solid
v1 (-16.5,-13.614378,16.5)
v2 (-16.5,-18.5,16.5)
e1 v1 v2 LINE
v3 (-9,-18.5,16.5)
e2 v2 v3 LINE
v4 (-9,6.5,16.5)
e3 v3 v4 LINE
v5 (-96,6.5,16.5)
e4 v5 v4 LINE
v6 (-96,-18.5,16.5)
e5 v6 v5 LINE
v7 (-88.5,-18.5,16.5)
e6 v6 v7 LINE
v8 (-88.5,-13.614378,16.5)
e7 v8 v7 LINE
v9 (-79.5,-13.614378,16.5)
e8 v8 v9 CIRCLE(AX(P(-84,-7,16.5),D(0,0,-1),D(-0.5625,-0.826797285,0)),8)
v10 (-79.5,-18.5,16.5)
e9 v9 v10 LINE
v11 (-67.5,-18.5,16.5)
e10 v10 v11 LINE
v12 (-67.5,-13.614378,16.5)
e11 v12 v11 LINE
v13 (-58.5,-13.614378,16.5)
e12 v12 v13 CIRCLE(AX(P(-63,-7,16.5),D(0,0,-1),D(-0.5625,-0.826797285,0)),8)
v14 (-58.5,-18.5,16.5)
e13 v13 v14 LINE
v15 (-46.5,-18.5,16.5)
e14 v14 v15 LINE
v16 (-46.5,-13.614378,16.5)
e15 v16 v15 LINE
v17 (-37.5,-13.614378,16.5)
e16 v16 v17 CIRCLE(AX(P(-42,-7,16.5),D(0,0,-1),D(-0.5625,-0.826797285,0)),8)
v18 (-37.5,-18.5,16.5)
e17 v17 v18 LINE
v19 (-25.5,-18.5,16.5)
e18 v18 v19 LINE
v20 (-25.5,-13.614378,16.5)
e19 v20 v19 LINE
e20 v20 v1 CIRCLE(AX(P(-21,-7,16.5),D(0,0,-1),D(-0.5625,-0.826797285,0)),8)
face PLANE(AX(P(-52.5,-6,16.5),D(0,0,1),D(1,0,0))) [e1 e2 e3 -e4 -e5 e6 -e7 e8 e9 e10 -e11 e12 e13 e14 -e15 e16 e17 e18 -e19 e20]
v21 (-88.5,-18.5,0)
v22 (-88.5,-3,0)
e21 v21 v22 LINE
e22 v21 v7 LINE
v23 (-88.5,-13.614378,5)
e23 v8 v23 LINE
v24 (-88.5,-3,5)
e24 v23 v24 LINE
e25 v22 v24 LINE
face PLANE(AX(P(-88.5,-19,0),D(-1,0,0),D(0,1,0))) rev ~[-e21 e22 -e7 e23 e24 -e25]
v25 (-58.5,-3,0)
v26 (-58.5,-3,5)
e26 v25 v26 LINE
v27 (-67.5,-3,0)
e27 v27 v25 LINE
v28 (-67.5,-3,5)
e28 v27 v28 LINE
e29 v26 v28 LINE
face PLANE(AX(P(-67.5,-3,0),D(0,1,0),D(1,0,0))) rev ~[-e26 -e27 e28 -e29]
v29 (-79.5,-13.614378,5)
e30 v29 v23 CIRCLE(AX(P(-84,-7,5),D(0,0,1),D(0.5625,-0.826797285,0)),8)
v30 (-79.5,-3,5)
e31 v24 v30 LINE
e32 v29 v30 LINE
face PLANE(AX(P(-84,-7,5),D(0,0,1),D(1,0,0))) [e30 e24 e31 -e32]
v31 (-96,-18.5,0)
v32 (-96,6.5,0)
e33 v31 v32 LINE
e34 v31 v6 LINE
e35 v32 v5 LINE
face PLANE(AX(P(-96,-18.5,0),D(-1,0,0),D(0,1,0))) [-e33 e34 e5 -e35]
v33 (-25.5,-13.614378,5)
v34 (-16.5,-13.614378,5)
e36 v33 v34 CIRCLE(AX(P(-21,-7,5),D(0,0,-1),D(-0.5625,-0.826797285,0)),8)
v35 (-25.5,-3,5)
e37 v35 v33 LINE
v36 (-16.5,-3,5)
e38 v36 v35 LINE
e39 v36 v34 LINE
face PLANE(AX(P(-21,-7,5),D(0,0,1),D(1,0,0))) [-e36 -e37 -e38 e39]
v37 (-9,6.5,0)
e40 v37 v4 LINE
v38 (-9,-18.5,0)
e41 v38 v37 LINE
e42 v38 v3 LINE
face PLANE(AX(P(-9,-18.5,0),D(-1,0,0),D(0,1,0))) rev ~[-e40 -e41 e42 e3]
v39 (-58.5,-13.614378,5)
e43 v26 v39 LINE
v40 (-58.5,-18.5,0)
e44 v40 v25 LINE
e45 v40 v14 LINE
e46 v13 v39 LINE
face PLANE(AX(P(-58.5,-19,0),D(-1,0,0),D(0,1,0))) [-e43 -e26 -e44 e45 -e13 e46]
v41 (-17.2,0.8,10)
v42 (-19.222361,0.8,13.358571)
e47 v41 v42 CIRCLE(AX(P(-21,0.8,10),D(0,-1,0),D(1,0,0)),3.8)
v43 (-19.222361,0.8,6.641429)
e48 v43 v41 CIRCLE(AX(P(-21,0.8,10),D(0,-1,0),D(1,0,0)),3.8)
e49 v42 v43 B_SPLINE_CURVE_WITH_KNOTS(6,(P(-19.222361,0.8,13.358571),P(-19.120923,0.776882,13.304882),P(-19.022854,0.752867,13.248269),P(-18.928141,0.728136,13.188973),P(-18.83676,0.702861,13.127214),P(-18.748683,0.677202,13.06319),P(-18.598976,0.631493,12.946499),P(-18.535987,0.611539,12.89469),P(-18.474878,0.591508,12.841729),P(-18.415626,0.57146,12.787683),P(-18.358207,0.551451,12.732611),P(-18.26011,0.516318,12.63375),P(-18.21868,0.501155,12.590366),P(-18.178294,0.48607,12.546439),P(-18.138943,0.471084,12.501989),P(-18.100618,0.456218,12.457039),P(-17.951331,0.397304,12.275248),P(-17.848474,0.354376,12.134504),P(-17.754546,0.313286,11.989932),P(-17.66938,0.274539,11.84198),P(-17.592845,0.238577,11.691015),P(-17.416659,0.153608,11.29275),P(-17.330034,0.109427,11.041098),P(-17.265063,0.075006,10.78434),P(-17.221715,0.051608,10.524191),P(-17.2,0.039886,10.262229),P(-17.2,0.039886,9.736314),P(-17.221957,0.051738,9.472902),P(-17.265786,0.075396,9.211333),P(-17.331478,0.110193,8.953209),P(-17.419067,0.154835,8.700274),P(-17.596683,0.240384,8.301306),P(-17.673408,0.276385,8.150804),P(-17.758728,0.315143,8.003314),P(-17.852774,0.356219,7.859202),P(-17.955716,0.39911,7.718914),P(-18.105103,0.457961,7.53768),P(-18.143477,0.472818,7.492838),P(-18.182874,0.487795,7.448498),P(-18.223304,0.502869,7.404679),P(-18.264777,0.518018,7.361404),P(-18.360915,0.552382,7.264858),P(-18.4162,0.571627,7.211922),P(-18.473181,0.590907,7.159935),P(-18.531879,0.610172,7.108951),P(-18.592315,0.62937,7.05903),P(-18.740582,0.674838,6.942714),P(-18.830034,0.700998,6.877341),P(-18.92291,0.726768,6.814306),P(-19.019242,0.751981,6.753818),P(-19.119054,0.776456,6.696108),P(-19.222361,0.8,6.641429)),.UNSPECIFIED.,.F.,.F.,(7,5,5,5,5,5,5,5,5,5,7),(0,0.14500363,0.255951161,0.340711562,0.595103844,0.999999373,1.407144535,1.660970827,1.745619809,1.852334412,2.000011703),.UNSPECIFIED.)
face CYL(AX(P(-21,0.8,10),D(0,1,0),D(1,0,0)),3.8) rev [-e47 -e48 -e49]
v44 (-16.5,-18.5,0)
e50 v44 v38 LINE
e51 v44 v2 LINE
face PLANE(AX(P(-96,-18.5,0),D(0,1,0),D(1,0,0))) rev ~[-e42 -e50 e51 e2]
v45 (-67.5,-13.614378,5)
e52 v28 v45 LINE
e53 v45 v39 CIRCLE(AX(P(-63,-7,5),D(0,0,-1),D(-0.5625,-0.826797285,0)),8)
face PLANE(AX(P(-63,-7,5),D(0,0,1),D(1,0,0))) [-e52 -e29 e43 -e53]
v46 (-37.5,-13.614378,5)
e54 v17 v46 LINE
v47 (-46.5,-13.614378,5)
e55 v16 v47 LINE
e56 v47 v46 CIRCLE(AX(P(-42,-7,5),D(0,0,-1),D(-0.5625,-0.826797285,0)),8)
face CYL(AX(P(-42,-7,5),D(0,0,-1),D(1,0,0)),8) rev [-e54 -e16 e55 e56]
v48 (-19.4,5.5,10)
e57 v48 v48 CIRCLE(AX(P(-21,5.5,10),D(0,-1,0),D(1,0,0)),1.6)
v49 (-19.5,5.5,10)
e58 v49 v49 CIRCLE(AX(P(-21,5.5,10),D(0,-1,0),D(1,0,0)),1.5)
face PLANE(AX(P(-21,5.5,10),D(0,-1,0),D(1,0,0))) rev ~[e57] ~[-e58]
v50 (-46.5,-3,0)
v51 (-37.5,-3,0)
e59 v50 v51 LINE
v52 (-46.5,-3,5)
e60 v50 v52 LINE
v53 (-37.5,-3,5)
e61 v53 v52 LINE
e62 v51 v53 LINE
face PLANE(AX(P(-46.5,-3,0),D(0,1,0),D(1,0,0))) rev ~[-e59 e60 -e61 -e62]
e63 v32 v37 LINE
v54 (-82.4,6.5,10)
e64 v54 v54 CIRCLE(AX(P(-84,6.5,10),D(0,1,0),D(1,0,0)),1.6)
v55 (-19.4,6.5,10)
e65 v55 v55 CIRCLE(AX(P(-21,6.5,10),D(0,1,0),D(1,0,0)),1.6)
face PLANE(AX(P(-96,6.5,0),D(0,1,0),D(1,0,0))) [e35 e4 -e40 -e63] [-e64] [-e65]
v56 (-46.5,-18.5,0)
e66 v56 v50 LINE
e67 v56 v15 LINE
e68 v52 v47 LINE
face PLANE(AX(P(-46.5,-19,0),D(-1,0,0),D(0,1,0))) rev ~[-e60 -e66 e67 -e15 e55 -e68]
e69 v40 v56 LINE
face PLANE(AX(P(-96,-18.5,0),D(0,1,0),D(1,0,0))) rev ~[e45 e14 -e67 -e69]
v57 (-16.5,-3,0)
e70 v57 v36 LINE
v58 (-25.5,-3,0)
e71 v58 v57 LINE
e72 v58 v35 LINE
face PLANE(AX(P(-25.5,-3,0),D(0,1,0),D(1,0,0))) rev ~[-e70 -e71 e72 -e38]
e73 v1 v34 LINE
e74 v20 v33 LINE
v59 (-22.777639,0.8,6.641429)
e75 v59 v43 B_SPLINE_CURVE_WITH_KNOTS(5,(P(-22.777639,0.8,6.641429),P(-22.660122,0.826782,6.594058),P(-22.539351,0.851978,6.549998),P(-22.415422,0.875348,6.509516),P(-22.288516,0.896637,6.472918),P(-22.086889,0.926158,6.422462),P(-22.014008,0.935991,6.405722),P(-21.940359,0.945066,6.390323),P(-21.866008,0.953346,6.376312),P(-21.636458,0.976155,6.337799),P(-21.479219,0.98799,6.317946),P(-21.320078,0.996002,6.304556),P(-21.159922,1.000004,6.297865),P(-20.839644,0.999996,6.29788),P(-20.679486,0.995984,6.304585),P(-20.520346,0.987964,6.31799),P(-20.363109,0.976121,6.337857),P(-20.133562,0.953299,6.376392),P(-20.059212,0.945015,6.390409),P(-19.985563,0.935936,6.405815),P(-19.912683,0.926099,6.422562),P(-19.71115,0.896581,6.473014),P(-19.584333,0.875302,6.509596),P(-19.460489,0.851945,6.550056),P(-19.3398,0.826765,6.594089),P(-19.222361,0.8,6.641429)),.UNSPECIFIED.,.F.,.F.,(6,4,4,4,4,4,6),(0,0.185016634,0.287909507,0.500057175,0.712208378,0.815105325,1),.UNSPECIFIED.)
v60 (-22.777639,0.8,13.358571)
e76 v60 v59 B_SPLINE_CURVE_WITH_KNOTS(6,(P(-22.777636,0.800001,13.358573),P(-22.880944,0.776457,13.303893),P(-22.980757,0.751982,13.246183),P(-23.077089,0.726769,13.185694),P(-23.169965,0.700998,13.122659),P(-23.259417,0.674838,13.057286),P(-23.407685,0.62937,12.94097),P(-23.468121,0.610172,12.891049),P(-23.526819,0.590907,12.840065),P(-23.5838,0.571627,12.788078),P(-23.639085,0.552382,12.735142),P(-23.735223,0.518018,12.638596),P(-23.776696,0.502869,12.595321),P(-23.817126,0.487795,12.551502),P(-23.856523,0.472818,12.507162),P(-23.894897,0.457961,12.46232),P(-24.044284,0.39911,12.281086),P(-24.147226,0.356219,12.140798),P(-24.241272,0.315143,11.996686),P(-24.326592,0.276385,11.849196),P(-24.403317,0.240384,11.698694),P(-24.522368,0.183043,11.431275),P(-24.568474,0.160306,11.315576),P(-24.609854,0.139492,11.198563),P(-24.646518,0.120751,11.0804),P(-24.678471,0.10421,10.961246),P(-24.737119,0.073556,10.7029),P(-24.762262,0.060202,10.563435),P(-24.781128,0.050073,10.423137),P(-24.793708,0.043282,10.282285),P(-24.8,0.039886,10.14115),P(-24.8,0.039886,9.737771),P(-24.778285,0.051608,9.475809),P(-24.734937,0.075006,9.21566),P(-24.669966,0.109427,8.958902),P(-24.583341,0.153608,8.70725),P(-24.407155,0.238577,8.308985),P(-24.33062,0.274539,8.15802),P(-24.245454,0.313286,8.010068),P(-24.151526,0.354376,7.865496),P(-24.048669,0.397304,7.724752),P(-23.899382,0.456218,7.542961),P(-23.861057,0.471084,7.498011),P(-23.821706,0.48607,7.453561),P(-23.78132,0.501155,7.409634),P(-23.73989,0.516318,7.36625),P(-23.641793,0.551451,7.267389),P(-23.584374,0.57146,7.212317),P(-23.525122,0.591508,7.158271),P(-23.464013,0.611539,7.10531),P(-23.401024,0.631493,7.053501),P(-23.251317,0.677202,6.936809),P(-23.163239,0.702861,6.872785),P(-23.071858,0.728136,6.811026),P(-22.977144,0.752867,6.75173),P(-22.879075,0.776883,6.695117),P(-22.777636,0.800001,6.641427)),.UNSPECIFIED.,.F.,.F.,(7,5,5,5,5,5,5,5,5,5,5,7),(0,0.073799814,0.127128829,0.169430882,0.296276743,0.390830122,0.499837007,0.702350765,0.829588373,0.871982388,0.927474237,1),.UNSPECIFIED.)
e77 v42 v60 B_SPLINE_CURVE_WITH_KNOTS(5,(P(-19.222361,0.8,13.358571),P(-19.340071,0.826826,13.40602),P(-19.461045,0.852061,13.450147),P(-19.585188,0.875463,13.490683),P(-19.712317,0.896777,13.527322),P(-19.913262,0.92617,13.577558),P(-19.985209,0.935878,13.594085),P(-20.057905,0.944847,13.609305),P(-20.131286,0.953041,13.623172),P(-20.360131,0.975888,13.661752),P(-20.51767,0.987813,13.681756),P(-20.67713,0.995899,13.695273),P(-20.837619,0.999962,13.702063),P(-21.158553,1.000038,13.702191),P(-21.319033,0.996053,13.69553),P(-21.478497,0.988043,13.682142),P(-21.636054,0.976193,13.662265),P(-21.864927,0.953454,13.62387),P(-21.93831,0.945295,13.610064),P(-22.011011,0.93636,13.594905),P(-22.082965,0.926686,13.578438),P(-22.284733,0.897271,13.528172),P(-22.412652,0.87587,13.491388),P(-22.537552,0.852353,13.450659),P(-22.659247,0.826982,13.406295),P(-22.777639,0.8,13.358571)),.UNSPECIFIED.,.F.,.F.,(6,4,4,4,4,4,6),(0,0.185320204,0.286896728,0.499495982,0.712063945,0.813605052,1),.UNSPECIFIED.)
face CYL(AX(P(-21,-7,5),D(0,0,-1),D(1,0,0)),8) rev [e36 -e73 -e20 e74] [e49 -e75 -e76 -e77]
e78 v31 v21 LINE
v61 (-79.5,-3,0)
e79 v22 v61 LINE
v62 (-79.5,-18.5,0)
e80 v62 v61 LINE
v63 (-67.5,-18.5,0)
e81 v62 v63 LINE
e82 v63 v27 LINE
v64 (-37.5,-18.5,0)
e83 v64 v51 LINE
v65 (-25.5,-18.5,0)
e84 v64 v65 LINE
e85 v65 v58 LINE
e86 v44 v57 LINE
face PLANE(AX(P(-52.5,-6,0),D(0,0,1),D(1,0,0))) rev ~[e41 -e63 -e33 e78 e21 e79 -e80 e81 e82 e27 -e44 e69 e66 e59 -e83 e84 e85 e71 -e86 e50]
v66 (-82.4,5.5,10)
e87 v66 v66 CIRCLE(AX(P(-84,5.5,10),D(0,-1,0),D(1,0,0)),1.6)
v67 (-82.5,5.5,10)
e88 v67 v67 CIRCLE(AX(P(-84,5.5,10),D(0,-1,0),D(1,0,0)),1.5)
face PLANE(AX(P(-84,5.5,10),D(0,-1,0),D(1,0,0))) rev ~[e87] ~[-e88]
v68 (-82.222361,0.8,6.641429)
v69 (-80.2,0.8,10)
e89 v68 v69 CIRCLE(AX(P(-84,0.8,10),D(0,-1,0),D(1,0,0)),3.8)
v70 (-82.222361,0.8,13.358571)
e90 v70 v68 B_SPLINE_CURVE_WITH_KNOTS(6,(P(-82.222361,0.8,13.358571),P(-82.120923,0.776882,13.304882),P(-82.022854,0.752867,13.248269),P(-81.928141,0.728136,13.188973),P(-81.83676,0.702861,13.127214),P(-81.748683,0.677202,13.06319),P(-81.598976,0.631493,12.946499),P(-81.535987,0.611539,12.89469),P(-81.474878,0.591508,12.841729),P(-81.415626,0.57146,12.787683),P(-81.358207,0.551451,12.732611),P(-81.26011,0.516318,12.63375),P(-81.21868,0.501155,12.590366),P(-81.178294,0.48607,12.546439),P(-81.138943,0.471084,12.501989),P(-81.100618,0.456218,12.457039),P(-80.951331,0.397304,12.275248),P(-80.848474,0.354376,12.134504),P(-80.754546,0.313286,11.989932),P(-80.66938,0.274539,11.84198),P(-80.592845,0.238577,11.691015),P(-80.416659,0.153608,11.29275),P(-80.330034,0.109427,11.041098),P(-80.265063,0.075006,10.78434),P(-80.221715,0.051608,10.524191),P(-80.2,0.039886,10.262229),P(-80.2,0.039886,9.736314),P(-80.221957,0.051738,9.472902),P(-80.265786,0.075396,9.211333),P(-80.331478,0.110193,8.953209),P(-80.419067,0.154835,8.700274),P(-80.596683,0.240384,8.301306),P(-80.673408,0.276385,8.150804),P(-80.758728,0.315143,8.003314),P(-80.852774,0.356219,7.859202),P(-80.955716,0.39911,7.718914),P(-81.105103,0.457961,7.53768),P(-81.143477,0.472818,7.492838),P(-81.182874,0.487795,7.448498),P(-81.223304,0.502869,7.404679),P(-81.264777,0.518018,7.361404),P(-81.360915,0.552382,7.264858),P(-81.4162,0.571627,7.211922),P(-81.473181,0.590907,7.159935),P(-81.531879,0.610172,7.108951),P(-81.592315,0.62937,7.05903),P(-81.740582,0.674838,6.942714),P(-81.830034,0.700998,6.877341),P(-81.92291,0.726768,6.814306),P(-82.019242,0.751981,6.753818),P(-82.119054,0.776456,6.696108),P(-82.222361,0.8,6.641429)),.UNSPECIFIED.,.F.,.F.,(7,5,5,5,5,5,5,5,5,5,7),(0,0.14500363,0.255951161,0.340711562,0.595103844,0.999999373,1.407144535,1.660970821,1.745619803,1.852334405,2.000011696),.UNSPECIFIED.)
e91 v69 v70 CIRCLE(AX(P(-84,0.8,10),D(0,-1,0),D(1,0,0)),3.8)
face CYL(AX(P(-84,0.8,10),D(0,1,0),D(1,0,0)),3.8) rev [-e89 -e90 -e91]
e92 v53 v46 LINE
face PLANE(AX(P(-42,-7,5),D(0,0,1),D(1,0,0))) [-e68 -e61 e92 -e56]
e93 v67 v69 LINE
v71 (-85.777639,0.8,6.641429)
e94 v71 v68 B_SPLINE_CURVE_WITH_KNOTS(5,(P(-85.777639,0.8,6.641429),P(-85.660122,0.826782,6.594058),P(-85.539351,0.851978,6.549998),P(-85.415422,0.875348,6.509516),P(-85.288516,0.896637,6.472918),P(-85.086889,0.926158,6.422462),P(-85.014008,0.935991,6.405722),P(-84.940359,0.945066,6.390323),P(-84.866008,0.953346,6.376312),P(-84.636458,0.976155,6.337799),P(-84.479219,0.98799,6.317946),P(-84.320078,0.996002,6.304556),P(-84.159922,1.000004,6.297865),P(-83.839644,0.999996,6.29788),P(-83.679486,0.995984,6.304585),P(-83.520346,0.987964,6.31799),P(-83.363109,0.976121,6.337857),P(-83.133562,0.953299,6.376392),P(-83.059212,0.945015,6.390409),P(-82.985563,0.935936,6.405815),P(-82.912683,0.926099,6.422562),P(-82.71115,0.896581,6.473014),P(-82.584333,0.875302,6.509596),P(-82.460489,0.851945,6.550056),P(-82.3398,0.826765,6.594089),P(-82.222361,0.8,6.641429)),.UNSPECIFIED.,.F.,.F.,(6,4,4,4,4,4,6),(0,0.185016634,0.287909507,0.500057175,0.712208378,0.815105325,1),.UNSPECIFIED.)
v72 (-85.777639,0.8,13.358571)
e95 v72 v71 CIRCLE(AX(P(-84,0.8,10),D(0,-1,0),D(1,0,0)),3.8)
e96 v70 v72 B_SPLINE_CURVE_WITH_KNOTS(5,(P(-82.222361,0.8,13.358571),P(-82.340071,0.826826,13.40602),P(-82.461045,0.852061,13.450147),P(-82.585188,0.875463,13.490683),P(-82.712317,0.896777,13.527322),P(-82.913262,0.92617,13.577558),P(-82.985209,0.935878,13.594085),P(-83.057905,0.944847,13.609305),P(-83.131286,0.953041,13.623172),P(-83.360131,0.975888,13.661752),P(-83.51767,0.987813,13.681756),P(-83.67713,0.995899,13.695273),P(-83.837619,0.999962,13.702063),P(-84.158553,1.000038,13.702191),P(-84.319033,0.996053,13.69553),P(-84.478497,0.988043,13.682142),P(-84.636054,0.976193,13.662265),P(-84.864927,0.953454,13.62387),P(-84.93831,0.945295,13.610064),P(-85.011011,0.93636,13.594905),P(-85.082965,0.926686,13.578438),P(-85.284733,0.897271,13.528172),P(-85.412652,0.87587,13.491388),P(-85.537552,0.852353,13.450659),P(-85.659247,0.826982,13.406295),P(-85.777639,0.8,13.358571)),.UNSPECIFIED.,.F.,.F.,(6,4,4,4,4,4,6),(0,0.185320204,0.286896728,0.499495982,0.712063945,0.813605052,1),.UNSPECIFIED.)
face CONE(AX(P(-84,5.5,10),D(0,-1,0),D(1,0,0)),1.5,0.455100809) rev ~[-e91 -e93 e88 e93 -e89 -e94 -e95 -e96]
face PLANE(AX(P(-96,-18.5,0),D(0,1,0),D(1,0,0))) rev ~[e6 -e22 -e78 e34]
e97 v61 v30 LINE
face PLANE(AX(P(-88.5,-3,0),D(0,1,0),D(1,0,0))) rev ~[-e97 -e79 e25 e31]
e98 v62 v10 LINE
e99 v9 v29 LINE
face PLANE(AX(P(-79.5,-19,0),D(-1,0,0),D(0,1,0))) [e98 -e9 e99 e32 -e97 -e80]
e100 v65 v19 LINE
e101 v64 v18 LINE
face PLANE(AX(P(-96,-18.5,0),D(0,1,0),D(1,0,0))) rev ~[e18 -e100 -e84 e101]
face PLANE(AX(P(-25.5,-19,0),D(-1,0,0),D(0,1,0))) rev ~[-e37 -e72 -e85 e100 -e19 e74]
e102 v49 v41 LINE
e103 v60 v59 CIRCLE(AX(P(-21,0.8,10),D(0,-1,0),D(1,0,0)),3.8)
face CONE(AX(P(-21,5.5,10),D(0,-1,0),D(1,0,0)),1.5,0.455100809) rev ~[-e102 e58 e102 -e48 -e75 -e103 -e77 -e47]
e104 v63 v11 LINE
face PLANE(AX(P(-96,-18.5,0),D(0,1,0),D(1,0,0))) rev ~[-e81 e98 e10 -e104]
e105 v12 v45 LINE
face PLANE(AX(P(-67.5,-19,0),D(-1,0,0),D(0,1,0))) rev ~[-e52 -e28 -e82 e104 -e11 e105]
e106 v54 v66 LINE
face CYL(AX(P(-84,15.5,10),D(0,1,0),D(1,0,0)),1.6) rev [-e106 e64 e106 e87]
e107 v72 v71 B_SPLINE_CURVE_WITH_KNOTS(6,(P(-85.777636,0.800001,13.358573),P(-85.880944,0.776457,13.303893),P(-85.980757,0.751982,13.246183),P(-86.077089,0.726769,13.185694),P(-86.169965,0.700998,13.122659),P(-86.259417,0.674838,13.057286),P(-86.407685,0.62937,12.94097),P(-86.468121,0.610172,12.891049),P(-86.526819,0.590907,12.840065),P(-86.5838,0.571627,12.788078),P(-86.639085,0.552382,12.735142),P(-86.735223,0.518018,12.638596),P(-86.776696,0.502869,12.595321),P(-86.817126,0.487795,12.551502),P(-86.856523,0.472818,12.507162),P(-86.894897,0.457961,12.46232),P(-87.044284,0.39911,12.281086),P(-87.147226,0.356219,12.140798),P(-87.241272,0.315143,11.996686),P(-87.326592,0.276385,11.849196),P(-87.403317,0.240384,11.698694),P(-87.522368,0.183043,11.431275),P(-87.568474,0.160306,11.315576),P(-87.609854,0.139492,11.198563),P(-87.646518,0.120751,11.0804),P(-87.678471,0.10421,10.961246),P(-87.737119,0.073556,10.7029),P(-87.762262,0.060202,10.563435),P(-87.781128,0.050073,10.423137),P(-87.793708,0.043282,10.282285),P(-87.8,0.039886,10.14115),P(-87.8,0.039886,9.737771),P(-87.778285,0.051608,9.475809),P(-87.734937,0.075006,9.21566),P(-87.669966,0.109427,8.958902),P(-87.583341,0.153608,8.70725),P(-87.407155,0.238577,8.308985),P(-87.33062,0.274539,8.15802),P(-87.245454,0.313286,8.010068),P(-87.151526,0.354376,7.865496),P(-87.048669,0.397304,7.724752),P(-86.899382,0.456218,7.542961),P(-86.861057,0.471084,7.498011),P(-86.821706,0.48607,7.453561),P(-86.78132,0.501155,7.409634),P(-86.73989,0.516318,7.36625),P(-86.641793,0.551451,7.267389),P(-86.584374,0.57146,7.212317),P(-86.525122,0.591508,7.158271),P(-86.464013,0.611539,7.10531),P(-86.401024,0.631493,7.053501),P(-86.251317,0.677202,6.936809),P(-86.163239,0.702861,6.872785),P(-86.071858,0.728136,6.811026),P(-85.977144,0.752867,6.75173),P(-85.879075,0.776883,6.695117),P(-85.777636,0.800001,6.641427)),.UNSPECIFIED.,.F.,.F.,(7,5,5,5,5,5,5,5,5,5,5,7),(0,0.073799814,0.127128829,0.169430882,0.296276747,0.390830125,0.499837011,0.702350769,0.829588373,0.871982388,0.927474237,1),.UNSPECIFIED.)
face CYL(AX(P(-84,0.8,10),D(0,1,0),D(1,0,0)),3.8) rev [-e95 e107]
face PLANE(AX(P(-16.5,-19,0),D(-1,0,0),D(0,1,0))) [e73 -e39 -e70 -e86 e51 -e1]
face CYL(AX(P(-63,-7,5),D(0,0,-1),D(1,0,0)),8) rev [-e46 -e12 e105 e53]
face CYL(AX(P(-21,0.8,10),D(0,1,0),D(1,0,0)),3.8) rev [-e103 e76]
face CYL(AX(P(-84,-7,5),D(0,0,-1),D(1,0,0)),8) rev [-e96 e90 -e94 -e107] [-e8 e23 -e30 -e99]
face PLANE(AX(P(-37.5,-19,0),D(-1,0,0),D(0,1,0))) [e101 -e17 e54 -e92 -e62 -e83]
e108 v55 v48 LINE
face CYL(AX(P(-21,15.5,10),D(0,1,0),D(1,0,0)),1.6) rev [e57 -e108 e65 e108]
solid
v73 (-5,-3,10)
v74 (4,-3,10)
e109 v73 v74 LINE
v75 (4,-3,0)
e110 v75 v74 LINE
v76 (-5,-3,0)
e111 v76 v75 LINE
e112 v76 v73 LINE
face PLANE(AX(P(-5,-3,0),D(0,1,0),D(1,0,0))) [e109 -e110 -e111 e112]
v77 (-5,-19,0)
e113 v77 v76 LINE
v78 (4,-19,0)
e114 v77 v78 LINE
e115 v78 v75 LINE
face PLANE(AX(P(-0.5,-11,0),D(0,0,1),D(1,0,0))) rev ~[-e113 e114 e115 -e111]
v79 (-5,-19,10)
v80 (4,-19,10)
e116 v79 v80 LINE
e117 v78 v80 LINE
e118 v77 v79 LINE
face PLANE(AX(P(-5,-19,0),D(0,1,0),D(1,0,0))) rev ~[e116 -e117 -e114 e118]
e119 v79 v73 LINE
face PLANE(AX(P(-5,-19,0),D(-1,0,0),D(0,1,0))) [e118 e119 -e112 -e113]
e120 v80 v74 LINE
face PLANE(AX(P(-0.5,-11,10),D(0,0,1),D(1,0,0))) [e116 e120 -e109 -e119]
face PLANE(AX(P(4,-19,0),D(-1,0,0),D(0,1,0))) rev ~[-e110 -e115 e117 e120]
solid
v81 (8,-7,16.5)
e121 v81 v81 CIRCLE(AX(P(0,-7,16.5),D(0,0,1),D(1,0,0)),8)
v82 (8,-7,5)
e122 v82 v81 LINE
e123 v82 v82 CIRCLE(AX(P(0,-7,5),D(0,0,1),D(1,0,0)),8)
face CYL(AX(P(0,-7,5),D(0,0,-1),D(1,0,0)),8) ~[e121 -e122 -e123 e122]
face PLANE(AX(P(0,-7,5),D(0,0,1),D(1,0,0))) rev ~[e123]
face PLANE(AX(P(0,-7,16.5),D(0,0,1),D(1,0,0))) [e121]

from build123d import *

# Parameters (mm, degrees)
BOX_W                  = 9
BOX_H                  = 16
BOX_DEPTH              = 10
CYLINDER_R             = 8
CYLINDER_DEPTH         = 11.5
CONE_ROLL_ANGLE        = 90
CYLINDER005_R          = 1.6
CYLINDER005_DEPTH      = 10
CYLINDER005_ROLL_ANGLE = 90
CYLINDER006_R          = 3.8
CYLINDER006_DEPTH      = 2
CYLINDER006_ROLL_ANGLE = 90
CONE001_ROLL_ANGLE     = 90
CYLINDER007_R          = 1.6
CYLINDER007_DEPTH      = 10
CYLINDER007_ROLL_ANGLE = 90
CYLINDER008_R          = 3.8
CYLINDER008_DEPTH      = 2
CYLINDER008_ROLL_ANGLE = 90
BOX002_W               = 9
BOX002_H               = 16
BOX002_DEPTH           = 18
CYLINDER002_R          = 8
CYLINDER002_DEPTH      = 11.5
BOX005_W               = 9
BOX005_H               = 16
BOX005_DEPTH           = 18
CYLINDER003_R          = 8
CYLINDER003_DEPTH      = 11.5
CYLINDER004_R          = 8
CYLINDER004_DEPTH      = 11.5
BOX003_W               = 9
BOX003_H               = 16
BOX003_DEPTH           = 18
BOX004_W               = 9
BOX004_H               = 16
BOX004_DEPTH           = 18
CYLINDER001_R          = 8
CYLINDER001_DEPTH      = 11.5
BOX001_W               = 87
BOX001_H               = 25
BOX001_DEPTH           = 16.5


with BuildPart() as cube:
    # Box → Box (new body)
    with BuildSketch(Plane(origin=(-5, -19, 0), x_dir=(1, 0, 0), z_dir=(0, 0, 1))):
        with Locations((4.5, 8)):
            Rectangle(BOX_W, BOX_H)
    extrude(amount=BOX_DEPTH)


with BuildPart() as cylinder:
    # Cylinder → Cylinder (new body)
    with BuildSketch(Plane(origin=(0, -7, 5), x_dir=(1, 0, 0), z_dir=(0, 0, 1))):
        Circle(CYLINDER_R)
    extrude(amount=CYLINDER_DEPTH)


with BuildPart() as cone:
    # Cone → Cone (revolve)
    with BuildSketch(Plane.XZ):
        Polygon((0, 0), (1.5, 0), (3.8, 4.7), (0, 4.7), align=None)
    revolve(axis=Axis((0, 0, 0), (0, 0, 1)))


with BuildPart() as cone_1:
    # Cone roll: moved
    add(cone.part.rotate(Axis((0, 0, 0), (1, 0, 0)), CONE_ROLL_ANGLE))


with BuildPart() as cone_2:
    # Cone placement: moved
    add(cone_1.part.moved(Location((-21, 0, 10))))


with BuildPart() as cylinder005:
    # Cylinder005 → Cylinder005 (new body)
    with BuildSketch(Plane.XY):
        Circle(CYLINDER005_R)
    extrude(amount=CYLINDER005_DEPTH)


with BuildPart() as cylinder005_1:
    # Cylinder005 roll: moved
    add(cylinder005.part.rotate(Axis((0, 0, 0), (1, 0, 0)), CYLINDER005_ROLL_ANGLE))


with BuildPart() as cylinder005_2:
    # Cylinder005 placement: moved
    add(cylinder005_1.part.moved(Location((-21, 10, 10))))


with BuildPart() as schraubenloch:
    # Cylinder006 → Cylinder006 (new body)
    with BuildSketch(Plane.XY):
        Circle(CYLINDER006_R)
    extrude(amount=CYLINDER006_DEPTH)


with BuildPart() as schraubenloch_1:
    # Cylinder006 roll: moved
    add(schraubenloch.part.rotate(Axis((0, 0, 0), (1, 0, 0)), CYLINDER006_ROLL_ANGLE))


with BuildPart() as schraubenloch_2:
    # Cylinder006 placement: moved
    add(schraubenloch_1.part.moved(Location((-21, -4.7, 10))))

    # Fusion004: union Cone, Cylinder005
    add(cone_2.part)
    add(cylinder005_2.part)


with BuildPart() as schraubenloch_3:
    # Fusion004 placement: moved
    add(schraubenloch_2.part.moved(Location((0, 5.5, 0))))


with BuildPart() as cone001:
    # Cone001 → Cone001 (revolve)
    with BuildSketch(Plane.XZ):
        Polygon((0, 0), (1.5, 0), (3.8, 4.7), (0, 4.7), align=None)
    revolve(axis=Axis((0, 0, 0), (0, 0, 1)))


with BuildPart() as cone001_1:
    # Cone001 roll: moved
    add(cone001.part.rotate(Axis((0, 0, 0), (1, 0, 0)), CONE001_ROLL_ANGLE))


with BuildPart() as cone001_2:
    # Cone001 placement: moved
    add(cone001_1.part.moved(Location((-21, 0, 10))))


with BuildPart() as cylinder007:
    # Cylinder007 → Cylinder007 (new body)
    with BuildSketch(Plane.XY):
        Circle(CYLINDER007_R)
    extrude(amount=CYLINDER007_DEPTH)


with BuildPart() as cylinder007_1:
    # Cylinder007 roll: moved
    add(cylinder007.part.rotate(Axis((0, 0, 0), (1, 0, 0)), CYLINDER007_ROLL_ANGLE))


with BuildPart() as cylinder007_2:
    # Cylinder007 placement: moved
    add(cylinder007_1.part.moved(Location((-21, 10, 10))))


with BuildPart() as schraubenloecher:
    # Cylinder008 → Cylinder008 (new body)
    with BuildSketch(Plane.XY):
        Circle(CYLINDER008_R)
    extrude(amount=CYLINDER008_DEPTH)


with BuildPart() as schraubenloecher_1:
    # Cylinder008 roll: moved
    add(schraubenloecher.part.rotate(Axis((0, 0, 0), (1, 0, 0)), CYLINDER008_ROLL_ANGLE))


with BuildPart() as schraubenloecher_2:
    # Cylinder008 placement: moved
    add(schraubenloecher_1.part.moved(Location((-21, -4.7, 10))))

    # Fusion005: union Cone001, Cylinder007
    add(cone001_2.part)
    add(cylinder007_2.part)


with BuildPart() as schraubenloecher_3:
    # Fusion005 placement: moved
    add(schraubenloecher_2.part.moved(Location((-63, 5.5, 0))))

    # Fusion006: union Schraubenloch
    add(schraubenloch_3.part)


with BuildPart() as cube002:
    # Box002 → Box002 (new body)
    with BuildSketch(Plane(origin=(-25.5, -19, 0), x_dir=(1, 0, 0), z_dir=(0, 0, 1))):
        with Locations((4.5, 8)):
            Rectangle(BOX002_W, BOX002_H)
    extrude(amount=BOX002_DEPTH)


with BuildPart() as cylinder002:
    # Cylinder002 → Cylinder002 (new body)
    with BuildSketch(Plane(origin=(-42, -7, 5), x_dir=(1, 0, 0), z_dir=(0, 0, 1))):
        Circle(CYLINDER002_R)
    extrude(amount=CYLINDER002_DEPTH)


with BuildPart() as cube005:
    # Box005 → Box005 (new body)
    with BuildSketch(Plane(origin=(-88.5, -19, 0), x_dir=(1, 0, 0), z_dir=(0, 0, 1))):
        with Locations((4.5, 8)):
            Rectangle(BOX005_W, BOX005_H)
    extrude(amount=BOX005_DEPTH)


with BuildPart() as cylinder003:
    # Cylinder003 → Cylinder003 (new body)
    with BuildSketch(Plane(origin=(-63, -7, 5), x_dir=(1, 0, 0), z_dir=(0, 0, 1))):
        Circle(CYLINDER003_R)
    extrude(amount=CYLINDER003_DEPTH)


with BuildPart() as cylinder004:
    # Cylinder004 → Cylinder004 (new body)
    with BuildSketch(Plane(origin=(-84, -7, 5), x_dir=(1, 0, 0), z_dir=(0, 0, 1))):
        Circle(CYLINDER004_R)
    extrude(amount=CYLINDER004_DEPTH)


with BuildPart() as cube003:
    # Box003 → Box003 (new body)
    with BuildSketch(Plane(origin=(-46.5, -19, 0), x_dir=(1, 0, 0), z_dir=(0, 0, 1))):
        with Locations((4.5, 8)):
            Rectangle(BOX003_W, BOX003_H)
    extrude(amount=BOX003_DEPTH)


with BuildPart() as cube004:
    # Box004 → Box004 (new body)
    with BuildSketch(Plane(origin=(-67.5, -19, 0), x_dir=(1, 0, 0), z_dir=(0, 0, 1))):
        with Locations((4.5, 8)):
            Rectangle(BOX004_W, BOX004_H)
    extrude(amount=BOX004_DEPTH)


with BuildPart() as fusion:
    # Cylinder001 → Cylinder001 (new body)
    with BuildSketch(Plane(origin=(-21, -7, 5), x_dir=(1, 0, 0), z_dir=(0, 0, 1))):
        Circle(CYLINDER001_R)
    extrude(amount=CYLINDER001_DEPTH)

    # Fusion: union Cube002, Cylinder002, Cube005, Cylinder003, Cylinder004, Cube003, Cube004
    add(cube002.part)
    add(cylinder002.part)
    add(cube005.part)
    add(cylinder003.part)
    add(cylinder004.part)
    add(cube003.part)
    add(cube004.part)


with BuildPart() as cut001:
    # Box001 → Box001 (new body)
    with BuildSketch(Plane(origin=(-96, -18.5, 0), x_dir=(1, 0, 0), z_dir=(0, 0, 1))):
        with Locations((43.5, 12.5)):
            Rectangle(BOX001_W, BOX001_H)
    extrude(amount=BOX001_DEPTH)

    # Cut: cut Fusion
    add(fusion.part, mode=Mode.SUBTRACT)

    # Cut001: cut Schraubenloecher
    add(schraubenloecher_3.part, mode=Mode.SUBTRACT)


solid = Compound([cube.part, cylinder.part, cut001.part])
